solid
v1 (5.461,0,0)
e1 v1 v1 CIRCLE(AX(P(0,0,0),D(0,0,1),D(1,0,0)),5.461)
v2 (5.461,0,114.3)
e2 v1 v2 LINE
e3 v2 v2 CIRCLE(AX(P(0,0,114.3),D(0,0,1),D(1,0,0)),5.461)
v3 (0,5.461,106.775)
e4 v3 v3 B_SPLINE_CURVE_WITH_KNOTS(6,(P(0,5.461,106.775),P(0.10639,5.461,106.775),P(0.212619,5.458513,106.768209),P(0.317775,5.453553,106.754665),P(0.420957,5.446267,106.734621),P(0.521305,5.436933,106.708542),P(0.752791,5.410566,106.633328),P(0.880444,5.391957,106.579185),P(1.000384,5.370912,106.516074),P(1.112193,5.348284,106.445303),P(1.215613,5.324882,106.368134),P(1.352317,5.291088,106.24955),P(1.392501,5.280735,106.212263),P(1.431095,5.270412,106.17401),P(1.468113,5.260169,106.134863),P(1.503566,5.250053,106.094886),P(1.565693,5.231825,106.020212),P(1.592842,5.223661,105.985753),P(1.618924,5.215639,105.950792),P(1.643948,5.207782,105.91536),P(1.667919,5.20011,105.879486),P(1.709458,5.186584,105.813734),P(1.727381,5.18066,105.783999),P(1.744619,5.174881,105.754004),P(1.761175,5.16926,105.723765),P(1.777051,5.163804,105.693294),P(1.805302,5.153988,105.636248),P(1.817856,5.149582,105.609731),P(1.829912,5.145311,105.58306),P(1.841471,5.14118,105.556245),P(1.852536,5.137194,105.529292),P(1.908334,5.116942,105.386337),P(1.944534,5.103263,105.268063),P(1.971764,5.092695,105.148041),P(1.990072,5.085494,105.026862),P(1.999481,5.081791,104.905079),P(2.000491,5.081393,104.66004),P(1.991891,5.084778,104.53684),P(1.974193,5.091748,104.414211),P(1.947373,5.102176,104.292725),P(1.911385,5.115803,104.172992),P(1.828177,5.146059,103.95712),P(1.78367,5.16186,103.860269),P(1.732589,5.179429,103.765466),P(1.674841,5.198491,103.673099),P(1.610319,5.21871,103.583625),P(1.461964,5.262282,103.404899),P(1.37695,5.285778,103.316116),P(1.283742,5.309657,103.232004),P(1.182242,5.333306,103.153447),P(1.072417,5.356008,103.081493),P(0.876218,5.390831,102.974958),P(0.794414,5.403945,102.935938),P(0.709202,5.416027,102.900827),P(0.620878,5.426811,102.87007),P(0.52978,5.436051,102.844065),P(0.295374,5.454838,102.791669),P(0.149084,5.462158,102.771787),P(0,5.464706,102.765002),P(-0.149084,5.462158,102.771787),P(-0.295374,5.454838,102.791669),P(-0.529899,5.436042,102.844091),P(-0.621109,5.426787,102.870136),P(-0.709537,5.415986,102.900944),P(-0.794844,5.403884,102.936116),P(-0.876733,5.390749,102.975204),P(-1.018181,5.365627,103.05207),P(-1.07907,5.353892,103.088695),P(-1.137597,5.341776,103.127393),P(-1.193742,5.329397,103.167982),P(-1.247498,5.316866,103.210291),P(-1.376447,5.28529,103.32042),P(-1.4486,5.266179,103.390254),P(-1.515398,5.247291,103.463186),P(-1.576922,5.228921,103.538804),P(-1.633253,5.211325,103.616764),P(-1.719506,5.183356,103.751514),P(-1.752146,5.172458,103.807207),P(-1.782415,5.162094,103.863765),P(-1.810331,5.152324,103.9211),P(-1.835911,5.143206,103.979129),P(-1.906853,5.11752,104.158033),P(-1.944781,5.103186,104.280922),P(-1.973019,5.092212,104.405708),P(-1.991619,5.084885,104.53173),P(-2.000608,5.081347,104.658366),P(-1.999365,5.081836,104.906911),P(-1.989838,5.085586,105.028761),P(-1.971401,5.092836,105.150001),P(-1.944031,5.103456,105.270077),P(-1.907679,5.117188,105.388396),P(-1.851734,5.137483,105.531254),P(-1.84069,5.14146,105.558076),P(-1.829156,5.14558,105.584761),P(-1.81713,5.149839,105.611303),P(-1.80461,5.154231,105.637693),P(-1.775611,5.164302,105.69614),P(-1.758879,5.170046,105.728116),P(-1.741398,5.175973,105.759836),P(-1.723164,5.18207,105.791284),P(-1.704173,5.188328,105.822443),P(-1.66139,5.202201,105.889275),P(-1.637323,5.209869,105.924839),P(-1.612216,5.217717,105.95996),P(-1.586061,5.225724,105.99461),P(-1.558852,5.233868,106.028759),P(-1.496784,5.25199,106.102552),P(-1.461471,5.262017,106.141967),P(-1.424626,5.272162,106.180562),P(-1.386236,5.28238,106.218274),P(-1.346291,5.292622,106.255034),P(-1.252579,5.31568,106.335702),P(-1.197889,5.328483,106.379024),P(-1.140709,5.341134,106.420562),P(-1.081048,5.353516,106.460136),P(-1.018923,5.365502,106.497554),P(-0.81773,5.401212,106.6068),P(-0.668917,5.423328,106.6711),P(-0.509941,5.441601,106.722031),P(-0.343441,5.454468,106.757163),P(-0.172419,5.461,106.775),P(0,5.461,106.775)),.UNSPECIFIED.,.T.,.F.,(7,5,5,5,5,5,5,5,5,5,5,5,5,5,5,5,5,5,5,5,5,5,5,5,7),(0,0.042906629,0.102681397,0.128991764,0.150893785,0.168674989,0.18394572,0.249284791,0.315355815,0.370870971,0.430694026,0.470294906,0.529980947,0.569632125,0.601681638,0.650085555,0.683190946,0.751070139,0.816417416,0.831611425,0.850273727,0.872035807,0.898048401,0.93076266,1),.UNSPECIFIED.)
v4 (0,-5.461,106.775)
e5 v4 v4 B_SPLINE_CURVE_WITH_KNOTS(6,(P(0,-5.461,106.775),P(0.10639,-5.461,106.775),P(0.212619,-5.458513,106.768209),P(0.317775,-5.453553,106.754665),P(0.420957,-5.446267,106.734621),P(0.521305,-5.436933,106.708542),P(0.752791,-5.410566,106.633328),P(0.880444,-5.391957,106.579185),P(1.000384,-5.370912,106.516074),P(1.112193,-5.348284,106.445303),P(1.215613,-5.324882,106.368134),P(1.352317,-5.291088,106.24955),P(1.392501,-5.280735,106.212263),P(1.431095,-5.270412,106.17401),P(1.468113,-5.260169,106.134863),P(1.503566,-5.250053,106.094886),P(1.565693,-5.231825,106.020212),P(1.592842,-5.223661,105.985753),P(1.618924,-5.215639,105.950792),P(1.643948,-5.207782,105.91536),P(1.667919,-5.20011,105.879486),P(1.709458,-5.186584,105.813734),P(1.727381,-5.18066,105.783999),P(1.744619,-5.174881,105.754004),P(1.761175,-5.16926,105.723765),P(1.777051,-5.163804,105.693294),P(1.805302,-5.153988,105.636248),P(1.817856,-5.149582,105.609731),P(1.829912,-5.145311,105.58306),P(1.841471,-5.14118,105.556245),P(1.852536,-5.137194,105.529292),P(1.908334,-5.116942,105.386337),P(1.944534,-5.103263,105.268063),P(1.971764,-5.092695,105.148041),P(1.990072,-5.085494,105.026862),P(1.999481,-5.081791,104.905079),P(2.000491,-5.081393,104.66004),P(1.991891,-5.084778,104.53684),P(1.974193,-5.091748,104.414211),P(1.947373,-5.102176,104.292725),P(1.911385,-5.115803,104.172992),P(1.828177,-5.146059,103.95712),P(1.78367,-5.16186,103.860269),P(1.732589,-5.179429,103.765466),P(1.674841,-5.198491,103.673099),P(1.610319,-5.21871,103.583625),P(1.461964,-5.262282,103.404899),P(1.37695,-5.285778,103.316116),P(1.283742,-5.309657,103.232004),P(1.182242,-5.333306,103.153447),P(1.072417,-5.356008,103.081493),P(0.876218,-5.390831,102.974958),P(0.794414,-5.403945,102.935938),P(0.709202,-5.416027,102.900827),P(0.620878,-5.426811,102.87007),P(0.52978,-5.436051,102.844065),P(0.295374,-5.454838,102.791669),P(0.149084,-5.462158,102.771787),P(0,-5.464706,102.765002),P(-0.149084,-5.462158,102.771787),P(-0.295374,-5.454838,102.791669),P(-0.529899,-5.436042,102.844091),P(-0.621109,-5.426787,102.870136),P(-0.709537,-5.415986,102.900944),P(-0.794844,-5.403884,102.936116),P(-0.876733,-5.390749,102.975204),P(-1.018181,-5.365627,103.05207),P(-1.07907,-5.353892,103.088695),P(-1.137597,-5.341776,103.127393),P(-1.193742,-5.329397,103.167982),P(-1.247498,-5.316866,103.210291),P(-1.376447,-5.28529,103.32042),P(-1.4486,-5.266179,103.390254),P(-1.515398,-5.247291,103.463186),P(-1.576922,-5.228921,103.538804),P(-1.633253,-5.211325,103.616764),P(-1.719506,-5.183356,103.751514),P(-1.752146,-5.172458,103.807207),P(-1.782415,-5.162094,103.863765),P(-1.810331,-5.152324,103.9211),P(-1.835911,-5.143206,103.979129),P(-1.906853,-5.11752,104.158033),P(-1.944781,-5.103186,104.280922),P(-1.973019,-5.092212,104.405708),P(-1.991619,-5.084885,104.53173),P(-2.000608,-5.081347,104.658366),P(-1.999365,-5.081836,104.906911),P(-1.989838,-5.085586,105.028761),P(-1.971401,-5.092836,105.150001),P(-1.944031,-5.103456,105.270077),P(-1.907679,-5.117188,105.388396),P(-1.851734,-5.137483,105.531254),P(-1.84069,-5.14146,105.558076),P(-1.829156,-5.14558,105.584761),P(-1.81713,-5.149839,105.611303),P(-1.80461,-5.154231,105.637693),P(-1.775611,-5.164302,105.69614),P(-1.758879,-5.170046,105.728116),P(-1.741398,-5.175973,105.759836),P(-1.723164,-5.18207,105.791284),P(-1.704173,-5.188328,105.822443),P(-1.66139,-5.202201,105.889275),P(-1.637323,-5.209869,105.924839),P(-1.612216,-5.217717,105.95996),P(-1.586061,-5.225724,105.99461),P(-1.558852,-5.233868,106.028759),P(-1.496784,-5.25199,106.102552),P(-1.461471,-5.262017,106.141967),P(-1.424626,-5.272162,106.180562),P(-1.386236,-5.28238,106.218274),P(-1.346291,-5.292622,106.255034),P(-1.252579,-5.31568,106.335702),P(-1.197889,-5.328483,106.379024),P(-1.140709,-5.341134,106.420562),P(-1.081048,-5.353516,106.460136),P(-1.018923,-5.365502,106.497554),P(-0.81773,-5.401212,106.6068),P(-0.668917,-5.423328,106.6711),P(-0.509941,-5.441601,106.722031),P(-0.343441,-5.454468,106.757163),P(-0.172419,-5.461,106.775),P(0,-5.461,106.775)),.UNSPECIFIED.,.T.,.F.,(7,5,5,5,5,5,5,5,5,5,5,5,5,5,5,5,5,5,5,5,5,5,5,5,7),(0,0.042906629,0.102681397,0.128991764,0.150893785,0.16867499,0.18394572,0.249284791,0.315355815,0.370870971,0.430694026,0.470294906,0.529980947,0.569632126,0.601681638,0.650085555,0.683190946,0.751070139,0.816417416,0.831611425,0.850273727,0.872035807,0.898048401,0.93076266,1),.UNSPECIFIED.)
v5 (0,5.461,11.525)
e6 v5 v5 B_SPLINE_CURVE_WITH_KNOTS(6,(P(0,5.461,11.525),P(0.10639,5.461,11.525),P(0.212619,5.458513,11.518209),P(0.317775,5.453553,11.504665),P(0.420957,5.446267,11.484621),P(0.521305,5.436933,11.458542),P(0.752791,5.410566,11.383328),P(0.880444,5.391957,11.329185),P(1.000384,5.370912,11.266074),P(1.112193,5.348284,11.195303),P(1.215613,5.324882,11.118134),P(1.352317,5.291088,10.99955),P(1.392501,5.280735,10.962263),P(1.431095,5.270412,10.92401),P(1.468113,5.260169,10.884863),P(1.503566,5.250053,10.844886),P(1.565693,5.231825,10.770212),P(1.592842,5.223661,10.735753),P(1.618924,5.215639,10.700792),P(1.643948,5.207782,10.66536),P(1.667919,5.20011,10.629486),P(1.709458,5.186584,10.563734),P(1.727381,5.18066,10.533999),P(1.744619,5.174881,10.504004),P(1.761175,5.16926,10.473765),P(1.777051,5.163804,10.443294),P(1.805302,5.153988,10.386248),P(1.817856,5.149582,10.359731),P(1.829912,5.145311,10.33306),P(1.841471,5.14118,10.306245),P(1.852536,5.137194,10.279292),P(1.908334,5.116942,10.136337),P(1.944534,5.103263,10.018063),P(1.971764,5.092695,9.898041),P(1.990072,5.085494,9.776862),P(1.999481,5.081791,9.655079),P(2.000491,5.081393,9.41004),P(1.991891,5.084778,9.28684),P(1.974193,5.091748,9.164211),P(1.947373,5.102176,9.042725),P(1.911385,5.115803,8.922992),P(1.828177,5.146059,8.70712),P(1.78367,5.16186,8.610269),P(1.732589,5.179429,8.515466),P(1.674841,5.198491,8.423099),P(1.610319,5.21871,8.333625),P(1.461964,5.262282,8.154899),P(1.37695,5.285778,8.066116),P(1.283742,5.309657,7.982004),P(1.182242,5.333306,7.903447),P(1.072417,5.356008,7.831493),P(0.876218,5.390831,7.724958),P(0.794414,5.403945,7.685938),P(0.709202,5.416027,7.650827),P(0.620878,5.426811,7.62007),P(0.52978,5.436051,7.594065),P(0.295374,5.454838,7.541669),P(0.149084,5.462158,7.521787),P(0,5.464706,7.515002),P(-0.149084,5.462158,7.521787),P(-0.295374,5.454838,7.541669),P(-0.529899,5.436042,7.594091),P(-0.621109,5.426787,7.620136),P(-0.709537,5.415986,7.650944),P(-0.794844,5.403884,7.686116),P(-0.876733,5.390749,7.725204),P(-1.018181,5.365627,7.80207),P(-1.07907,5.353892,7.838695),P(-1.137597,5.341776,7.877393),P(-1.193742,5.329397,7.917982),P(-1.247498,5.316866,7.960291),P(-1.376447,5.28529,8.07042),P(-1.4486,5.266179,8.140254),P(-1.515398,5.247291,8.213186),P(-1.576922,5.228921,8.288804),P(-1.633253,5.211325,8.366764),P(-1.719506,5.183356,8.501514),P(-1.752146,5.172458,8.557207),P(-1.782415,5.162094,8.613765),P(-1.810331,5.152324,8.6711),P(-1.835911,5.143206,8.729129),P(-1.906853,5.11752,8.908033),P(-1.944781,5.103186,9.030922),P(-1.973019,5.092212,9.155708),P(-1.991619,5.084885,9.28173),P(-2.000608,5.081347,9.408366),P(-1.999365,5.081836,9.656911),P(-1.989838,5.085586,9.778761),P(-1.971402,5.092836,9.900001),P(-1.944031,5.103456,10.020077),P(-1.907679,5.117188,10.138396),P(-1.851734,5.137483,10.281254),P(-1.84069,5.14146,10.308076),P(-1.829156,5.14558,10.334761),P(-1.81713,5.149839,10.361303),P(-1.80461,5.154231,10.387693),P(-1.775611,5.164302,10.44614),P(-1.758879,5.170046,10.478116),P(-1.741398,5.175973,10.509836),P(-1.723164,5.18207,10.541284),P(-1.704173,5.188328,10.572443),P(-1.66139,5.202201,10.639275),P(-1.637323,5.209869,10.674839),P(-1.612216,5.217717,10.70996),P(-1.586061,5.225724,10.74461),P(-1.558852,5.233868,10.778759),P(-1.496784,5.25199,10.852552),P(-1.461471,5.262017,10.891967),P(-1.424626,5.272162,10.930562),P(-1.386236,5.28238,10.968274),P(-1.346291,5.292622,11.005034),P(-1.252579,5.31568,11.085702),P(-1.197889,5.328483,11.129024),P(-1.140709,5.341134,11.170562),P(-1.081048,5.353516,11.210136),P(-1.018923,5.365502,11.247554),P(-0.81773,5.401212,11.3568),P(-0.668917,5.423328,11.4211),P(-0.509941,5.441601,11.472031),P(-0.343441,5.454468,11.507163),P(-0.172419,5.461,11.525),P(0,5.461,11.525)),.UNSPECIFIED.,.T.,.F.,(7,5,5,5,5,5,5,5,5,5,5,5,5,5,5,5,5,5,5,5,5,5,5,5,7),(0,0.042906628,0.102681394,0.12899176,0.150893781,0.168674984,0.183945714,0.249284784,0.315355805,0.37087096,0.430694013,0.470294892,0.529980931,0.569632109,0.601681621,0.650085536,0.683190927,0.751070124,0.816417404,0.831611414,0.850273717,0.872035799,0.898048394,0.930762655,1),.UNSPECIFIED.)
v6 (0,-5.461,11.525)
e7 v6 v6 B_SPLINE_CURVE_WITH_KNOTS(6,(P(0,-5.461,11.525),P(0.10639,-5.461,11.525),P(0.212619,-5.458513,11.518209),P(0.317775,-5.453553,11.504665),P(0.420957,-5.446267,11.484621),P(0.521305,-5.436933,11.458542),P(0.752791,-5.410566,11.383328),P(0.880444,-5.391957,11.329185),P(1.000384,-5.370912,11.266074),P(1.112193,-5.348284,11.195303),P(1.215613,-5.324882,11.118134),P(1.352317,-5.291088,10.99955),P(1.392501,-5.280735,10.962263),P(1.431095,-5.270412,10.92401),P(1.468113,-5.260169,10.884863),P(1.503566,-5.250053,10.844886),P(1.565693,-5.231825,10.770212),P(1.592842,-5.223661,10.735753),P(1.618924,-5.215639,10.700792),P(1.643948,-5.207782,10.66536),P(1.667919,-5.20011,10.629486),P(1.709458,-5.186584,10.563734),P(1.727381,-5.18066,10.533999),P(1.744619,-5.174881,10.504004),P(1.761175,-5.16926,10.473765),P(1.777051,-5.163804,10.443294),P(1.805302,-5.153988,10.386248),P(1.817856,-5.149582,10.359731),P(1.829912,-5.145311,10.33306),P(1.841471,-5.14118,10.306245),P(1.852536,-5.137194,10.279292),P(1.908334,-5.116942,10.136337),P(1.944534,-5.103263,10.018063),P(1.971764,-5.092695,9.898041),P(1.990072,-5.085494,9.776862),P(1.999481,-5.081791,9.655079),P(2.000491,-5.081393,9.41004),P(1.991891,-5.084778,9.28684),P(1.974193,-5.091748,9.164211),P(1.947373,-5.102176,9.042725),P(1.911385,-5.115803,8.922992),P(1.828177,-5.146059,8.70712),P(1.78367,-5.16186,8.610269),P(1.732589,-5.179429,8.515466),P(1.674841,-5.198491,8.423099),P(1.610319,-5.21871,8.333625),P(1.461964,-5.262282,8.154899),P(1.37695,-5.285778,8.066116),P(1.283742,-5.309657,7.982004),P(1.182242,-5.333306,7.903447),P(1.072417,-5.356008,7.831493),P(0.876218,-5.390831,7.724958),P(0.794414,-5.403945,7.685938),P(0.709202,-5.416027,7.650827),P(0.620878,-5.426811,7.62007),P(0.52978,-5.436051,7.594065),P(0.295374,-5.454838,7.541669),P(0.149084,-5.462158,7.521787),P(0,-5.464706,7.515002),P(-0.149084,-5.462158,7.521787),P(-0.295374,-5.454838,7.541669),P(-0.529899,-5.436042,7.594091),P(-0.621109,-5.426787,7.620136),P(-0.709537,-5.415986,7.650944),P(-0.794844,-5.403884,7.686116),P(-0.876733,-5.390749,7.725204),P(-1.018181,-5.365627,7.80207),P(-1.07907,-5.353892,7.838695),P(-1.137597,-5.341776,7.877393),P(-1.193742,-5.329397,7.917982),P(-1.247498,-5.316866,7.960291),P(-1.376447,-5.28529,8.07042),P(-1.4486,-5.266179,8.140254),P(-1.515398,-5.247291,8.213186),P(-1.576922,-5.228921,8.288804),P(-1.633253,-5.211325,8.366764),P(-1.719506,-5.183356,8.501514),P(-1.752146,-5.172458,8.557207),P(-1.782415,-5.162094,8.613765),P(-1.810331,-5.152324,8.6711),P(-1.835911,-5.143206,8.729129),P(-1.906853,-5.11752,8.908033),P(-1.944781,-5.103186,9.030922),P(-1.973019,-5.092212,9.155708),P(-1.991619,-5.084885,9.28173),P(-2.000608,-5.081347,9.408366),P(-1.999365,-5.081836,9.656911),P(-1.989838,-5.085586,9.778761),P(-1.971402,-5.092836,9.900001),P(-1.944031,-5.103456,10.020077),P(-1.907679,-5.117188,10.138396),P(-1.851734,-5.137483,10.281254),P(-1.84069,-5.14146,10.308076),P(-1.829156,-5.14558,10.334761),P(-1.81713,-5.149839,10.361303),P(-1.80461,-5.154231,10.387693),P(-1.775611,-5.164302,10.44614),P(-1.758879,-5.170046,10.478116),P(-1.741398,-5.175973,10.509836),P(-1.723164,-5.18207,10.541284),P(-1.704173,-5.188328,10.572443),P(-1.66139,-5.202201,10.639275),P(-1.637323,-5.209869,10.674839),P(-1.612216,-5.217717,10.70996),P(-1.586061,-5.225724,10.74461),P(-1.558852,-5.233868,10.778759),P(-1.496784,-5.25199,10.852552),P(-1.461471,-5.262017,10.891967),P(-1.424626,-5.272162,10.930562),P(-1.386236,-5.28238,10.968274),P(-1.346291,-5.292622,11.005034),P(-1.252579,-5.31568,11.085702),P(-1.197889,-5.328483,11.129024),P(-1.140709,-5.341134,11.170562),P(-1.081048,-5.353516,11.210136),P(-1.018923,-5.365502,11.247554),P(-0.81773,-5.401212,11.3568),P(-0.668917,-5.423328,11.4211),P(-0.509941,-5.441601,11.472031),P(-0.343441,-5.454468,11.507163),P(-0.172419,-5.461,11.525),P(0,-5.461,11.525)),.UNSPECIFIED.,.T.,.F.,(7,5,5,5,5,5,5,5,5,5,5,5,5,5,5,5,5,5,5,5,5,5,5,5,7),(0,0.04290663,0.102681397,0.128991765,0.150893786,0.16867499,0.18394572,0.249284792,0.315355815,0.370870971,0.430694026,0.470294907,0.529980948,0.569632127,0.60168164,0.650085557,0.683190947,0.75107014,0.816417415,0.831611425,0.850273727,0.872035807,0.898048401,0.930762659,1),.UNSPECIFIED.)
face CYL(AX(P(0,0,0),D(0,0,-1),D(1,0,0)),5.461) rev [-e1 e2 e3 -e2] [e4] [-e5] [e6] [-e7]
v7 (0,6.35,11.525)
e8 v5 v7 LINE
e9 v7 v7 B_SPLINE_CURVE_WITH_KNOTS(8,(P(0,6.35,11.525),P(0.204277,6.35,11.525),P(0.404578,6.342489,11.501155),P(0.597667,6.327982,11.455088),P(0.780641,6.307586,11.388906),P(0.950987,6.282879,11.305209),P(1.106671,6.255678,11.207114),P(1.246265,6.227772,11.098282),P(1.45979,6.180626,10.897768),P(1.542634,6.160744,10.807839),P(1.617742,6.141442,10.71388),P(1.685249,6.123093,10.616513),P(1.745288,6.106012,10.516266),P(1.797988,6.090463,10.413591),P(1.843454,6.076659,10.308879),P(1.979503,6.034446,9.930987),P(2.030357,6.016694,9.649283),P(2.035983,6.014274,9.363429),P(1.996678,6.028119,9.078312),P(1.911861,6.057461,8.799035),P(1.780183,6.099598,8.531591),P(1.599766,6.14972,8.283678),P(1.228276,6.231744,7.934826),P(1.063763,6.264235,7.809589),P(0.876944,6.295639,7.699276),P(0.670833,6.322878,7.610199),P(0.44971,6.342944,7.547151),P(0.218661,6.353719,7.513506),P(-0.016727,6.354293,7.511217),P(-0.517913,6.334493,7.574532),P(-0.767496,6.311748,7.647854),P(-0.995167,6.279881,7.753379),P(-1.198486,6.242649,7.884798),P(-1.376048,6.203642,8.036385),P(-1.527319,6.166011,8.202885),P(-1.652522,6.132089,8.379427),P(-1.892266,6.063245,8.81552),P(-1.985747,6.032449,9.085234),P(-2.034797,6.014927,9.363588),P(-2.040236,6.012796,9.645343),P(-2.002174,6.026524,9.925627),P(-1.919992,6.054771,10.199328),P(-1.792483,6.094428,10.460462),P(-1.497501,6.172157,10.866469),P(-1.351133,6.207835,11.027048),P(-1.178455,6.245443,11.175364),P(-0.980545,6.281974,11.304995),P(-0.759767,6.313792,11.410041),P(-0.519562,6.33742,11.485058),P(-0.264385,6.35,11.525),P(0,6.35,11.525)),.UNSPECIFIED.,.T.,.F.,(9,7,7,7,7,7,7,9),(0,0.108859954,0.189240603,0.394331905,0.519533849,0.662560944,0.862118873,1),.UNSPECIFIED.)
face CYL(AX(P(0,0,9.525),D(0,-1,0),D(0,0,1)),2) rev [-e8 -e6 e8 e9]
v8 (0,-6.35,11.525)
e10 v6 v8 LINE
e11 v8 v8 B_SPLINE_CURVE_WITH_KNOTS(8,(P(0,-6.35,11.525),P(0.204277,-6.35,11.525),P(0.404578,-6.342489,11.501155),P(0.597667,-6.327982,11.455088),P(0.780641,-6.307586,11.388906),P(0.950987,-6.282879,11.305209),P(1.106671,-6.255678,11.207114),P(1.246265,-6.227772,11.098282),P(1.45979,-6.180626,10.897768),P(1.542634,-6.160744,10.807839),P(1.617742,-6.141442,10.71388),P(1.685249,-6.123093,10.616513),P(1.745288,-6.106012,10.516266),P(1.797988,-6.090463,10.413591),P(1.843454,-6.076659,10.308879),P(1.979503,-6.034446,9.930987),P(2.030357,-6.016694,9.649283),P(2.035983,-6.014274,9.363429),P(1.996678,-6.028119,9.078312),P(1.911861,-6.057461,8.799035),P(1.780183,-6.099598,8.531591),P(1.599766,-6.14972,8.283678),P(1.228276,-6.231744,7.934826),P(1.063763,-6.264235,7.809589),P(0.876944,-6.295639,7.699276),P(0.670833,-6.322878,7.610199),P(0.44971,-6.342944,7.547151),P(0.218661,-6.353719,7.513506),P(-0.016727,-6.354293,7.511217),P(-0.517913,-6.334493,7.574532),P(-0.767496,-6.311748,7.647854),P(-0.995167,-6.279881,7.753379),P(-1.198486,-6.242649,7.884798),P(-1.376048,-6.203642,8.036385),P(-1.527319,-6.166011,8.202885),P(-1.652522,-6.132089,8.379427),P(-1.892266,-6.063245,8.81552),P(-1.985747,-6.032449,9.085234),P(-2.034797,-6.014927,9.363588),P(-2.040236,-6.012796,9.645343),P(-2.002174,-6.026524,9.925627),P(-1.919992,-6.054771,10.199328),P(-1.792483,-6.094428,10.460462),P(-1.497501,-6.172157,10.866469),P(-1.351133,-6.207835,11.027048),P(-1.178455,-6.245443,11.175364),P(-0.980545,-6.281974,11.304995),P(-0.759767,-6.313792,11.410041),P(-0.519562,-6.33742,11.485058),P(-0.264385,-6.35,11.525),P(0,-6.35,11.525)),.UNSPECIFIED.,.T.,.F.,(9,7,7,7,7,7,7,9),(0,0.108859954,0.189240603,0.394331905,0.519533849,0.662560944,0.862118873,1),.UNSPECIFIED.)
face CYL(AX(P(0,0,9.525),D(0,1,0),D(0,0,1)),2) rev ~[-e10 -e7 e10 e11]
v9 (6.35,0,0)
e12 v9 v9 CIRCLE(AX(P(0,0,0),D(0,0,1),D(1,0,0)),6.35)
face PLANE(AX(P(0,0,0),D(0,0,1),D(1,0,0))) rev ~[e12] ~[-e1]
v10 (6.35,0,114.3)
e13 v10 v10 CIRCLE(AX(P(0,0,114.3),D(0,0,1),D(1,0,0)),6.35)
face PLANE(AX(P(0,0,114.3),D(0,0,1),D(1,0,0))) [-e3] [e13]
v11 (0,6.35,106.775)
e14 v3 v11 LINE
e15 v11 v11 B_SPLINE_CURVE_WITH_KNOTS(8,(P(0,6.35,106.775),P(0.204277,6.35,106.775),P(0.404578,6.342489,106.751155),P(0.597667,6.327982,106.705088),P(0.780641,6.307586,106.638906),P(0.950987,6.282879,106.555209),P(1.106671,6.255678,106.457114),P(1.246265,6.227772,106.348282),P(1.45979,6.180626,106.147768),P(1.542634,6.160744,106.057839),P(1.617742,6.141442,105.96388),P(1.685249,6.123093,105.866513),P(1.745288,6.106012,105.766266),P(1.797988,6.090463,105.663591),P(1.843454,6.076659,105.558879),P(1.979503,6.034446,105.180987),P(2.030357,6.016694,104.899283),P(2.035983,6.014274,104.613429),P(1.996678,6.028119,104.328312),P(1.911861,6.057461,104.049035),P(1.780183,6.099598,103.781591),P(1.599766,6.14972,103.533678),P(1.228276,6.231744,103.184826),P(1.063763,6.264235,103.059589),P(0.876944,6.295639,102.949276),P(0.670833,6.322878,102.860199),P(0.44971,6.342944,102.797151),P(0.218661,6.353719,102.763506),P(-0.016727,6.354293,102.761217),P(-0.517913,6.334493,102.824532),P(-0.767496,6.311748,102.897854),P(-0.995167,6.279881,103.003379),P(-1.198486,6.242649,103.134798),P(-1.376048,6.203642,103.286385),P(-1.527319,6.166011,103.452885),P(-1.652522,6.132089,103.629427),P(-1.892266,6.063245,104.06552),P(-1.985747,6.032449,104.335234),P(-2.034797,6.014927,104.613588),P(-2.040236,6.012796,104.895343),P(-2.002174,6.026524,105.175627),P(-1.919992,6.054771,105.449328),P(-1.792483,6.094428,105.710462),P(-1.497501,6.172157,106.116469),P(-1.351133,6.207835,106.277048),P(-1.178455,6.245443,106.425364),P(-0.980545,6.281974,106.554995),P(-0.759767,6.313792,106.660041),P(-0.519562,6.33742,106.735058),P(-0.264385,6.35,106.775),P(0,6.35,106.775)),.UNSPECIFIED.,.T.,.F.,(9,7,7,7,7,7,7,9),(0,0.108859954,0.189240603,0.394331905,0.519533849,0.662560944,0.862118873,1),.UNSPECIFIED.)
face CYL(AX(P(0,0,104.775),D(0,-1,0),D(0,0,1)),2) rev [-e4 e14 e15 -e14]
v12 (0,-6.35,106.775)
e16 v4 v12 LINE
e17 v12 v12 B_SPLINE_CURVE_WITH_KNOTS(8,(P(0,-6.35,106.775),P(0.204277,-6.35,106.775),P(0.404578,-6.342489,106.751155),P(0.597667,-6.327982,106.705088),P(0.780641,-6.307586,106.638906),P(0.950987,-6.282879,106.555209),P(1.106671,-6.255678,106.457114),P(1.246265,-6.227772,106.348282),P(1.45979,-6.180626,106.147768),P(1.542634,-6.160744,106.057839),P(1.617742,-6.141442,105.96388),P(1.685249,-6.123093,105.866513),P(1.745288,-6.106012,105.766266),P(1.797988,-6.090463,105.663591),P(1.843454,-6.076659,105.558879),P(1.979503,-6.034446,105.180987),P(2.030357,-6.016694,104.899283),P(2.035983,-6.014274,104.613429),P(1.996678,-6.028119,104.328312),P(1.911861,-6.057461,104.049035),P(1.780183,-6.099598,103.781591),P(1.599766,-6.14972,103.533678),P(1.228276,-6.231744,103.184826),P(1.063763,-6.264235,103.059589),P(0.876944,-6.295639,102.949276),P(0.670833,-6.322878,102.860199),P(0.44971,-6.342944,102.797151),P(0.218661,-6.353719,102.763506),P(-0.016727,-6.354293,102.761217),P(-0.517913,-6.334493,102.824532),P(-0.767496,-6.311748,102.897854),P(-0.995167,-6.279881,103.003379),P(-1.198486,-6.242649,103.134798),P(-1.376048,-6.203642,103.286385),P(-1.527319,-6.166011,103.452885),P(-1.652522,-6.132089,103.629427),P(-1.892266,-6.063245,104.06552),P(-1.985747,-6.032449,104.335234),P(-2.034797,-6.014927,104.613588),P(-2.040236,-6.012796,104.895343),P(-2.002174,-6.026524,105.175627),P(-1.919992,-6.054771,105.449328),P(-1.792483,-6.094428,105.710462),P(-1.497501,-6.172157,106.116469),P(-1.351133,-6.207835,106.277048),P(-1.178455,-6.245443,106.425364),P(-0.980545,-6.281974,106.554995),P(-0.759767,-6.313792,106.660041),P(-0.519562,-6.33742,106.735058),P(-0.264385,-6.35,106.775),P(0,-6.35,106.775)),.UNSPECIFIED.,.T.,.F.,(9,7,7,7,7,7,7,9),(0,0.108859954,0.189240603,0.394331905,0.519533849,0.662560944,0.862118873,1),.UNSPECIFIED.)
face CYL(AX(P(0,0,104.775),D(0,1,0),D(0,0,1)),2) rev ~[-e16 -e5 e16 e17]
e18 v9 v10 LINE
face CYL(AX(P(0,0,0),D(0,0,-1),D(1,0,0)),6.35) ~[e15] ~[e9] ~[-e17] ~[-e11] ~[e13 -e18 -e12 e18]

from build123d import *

# Parameters (mm, degrees)
SKETCH1_R               = 6.35
SKETCH1_R_2             = 5.461
EXTRUDE1_DEPTH          = 114.3
SKETCH2_R               = 2
CUT_EXTRUDE1_DEPTH      = 38.1
CUT_EXTRUDE1_DEPTH_BACK = 38.1


with BuildPart() as part:
    # Sketch1 → Extrude1 (new body)
    with BuildSketch(Plane.XY):
        Circle(SKETCH1_R)
        Circle(SKETCH1_R_2, mode=Mode.SUBTRACT)
    extrude(amount=EXTRUDE1_DEPTH)

    # Sketch2 → Cut-Extrude1 (cut, two sides)
    with BuildSketch(Plane(origin=(0, 0, 0), x_dir=(1, 0, 0), z_dir=(0, 1, 0))) as cut_extrude1_sk:
        with Locations(Location((0, -9.525, 0), (0, 0, 270))):  # turned: the seam where the file's is
            Circle(SKETCH2_R)
        with Locations(Location((0, -104.775, 0), (0, 0, 270))):  # turned: the seam where the file's is
            Circle(SKETCH2_R)
    extrude(amount=CUT_EXTRUDE1_DEPTH, mode=Mode.SUBTRACT)
    extrude(cut_extrude1_sk.sketch, amount=-CUT_EXTRUDE1_DEPTH_BACK, mode=Mode.SUBTRACT)


solid = part.part
